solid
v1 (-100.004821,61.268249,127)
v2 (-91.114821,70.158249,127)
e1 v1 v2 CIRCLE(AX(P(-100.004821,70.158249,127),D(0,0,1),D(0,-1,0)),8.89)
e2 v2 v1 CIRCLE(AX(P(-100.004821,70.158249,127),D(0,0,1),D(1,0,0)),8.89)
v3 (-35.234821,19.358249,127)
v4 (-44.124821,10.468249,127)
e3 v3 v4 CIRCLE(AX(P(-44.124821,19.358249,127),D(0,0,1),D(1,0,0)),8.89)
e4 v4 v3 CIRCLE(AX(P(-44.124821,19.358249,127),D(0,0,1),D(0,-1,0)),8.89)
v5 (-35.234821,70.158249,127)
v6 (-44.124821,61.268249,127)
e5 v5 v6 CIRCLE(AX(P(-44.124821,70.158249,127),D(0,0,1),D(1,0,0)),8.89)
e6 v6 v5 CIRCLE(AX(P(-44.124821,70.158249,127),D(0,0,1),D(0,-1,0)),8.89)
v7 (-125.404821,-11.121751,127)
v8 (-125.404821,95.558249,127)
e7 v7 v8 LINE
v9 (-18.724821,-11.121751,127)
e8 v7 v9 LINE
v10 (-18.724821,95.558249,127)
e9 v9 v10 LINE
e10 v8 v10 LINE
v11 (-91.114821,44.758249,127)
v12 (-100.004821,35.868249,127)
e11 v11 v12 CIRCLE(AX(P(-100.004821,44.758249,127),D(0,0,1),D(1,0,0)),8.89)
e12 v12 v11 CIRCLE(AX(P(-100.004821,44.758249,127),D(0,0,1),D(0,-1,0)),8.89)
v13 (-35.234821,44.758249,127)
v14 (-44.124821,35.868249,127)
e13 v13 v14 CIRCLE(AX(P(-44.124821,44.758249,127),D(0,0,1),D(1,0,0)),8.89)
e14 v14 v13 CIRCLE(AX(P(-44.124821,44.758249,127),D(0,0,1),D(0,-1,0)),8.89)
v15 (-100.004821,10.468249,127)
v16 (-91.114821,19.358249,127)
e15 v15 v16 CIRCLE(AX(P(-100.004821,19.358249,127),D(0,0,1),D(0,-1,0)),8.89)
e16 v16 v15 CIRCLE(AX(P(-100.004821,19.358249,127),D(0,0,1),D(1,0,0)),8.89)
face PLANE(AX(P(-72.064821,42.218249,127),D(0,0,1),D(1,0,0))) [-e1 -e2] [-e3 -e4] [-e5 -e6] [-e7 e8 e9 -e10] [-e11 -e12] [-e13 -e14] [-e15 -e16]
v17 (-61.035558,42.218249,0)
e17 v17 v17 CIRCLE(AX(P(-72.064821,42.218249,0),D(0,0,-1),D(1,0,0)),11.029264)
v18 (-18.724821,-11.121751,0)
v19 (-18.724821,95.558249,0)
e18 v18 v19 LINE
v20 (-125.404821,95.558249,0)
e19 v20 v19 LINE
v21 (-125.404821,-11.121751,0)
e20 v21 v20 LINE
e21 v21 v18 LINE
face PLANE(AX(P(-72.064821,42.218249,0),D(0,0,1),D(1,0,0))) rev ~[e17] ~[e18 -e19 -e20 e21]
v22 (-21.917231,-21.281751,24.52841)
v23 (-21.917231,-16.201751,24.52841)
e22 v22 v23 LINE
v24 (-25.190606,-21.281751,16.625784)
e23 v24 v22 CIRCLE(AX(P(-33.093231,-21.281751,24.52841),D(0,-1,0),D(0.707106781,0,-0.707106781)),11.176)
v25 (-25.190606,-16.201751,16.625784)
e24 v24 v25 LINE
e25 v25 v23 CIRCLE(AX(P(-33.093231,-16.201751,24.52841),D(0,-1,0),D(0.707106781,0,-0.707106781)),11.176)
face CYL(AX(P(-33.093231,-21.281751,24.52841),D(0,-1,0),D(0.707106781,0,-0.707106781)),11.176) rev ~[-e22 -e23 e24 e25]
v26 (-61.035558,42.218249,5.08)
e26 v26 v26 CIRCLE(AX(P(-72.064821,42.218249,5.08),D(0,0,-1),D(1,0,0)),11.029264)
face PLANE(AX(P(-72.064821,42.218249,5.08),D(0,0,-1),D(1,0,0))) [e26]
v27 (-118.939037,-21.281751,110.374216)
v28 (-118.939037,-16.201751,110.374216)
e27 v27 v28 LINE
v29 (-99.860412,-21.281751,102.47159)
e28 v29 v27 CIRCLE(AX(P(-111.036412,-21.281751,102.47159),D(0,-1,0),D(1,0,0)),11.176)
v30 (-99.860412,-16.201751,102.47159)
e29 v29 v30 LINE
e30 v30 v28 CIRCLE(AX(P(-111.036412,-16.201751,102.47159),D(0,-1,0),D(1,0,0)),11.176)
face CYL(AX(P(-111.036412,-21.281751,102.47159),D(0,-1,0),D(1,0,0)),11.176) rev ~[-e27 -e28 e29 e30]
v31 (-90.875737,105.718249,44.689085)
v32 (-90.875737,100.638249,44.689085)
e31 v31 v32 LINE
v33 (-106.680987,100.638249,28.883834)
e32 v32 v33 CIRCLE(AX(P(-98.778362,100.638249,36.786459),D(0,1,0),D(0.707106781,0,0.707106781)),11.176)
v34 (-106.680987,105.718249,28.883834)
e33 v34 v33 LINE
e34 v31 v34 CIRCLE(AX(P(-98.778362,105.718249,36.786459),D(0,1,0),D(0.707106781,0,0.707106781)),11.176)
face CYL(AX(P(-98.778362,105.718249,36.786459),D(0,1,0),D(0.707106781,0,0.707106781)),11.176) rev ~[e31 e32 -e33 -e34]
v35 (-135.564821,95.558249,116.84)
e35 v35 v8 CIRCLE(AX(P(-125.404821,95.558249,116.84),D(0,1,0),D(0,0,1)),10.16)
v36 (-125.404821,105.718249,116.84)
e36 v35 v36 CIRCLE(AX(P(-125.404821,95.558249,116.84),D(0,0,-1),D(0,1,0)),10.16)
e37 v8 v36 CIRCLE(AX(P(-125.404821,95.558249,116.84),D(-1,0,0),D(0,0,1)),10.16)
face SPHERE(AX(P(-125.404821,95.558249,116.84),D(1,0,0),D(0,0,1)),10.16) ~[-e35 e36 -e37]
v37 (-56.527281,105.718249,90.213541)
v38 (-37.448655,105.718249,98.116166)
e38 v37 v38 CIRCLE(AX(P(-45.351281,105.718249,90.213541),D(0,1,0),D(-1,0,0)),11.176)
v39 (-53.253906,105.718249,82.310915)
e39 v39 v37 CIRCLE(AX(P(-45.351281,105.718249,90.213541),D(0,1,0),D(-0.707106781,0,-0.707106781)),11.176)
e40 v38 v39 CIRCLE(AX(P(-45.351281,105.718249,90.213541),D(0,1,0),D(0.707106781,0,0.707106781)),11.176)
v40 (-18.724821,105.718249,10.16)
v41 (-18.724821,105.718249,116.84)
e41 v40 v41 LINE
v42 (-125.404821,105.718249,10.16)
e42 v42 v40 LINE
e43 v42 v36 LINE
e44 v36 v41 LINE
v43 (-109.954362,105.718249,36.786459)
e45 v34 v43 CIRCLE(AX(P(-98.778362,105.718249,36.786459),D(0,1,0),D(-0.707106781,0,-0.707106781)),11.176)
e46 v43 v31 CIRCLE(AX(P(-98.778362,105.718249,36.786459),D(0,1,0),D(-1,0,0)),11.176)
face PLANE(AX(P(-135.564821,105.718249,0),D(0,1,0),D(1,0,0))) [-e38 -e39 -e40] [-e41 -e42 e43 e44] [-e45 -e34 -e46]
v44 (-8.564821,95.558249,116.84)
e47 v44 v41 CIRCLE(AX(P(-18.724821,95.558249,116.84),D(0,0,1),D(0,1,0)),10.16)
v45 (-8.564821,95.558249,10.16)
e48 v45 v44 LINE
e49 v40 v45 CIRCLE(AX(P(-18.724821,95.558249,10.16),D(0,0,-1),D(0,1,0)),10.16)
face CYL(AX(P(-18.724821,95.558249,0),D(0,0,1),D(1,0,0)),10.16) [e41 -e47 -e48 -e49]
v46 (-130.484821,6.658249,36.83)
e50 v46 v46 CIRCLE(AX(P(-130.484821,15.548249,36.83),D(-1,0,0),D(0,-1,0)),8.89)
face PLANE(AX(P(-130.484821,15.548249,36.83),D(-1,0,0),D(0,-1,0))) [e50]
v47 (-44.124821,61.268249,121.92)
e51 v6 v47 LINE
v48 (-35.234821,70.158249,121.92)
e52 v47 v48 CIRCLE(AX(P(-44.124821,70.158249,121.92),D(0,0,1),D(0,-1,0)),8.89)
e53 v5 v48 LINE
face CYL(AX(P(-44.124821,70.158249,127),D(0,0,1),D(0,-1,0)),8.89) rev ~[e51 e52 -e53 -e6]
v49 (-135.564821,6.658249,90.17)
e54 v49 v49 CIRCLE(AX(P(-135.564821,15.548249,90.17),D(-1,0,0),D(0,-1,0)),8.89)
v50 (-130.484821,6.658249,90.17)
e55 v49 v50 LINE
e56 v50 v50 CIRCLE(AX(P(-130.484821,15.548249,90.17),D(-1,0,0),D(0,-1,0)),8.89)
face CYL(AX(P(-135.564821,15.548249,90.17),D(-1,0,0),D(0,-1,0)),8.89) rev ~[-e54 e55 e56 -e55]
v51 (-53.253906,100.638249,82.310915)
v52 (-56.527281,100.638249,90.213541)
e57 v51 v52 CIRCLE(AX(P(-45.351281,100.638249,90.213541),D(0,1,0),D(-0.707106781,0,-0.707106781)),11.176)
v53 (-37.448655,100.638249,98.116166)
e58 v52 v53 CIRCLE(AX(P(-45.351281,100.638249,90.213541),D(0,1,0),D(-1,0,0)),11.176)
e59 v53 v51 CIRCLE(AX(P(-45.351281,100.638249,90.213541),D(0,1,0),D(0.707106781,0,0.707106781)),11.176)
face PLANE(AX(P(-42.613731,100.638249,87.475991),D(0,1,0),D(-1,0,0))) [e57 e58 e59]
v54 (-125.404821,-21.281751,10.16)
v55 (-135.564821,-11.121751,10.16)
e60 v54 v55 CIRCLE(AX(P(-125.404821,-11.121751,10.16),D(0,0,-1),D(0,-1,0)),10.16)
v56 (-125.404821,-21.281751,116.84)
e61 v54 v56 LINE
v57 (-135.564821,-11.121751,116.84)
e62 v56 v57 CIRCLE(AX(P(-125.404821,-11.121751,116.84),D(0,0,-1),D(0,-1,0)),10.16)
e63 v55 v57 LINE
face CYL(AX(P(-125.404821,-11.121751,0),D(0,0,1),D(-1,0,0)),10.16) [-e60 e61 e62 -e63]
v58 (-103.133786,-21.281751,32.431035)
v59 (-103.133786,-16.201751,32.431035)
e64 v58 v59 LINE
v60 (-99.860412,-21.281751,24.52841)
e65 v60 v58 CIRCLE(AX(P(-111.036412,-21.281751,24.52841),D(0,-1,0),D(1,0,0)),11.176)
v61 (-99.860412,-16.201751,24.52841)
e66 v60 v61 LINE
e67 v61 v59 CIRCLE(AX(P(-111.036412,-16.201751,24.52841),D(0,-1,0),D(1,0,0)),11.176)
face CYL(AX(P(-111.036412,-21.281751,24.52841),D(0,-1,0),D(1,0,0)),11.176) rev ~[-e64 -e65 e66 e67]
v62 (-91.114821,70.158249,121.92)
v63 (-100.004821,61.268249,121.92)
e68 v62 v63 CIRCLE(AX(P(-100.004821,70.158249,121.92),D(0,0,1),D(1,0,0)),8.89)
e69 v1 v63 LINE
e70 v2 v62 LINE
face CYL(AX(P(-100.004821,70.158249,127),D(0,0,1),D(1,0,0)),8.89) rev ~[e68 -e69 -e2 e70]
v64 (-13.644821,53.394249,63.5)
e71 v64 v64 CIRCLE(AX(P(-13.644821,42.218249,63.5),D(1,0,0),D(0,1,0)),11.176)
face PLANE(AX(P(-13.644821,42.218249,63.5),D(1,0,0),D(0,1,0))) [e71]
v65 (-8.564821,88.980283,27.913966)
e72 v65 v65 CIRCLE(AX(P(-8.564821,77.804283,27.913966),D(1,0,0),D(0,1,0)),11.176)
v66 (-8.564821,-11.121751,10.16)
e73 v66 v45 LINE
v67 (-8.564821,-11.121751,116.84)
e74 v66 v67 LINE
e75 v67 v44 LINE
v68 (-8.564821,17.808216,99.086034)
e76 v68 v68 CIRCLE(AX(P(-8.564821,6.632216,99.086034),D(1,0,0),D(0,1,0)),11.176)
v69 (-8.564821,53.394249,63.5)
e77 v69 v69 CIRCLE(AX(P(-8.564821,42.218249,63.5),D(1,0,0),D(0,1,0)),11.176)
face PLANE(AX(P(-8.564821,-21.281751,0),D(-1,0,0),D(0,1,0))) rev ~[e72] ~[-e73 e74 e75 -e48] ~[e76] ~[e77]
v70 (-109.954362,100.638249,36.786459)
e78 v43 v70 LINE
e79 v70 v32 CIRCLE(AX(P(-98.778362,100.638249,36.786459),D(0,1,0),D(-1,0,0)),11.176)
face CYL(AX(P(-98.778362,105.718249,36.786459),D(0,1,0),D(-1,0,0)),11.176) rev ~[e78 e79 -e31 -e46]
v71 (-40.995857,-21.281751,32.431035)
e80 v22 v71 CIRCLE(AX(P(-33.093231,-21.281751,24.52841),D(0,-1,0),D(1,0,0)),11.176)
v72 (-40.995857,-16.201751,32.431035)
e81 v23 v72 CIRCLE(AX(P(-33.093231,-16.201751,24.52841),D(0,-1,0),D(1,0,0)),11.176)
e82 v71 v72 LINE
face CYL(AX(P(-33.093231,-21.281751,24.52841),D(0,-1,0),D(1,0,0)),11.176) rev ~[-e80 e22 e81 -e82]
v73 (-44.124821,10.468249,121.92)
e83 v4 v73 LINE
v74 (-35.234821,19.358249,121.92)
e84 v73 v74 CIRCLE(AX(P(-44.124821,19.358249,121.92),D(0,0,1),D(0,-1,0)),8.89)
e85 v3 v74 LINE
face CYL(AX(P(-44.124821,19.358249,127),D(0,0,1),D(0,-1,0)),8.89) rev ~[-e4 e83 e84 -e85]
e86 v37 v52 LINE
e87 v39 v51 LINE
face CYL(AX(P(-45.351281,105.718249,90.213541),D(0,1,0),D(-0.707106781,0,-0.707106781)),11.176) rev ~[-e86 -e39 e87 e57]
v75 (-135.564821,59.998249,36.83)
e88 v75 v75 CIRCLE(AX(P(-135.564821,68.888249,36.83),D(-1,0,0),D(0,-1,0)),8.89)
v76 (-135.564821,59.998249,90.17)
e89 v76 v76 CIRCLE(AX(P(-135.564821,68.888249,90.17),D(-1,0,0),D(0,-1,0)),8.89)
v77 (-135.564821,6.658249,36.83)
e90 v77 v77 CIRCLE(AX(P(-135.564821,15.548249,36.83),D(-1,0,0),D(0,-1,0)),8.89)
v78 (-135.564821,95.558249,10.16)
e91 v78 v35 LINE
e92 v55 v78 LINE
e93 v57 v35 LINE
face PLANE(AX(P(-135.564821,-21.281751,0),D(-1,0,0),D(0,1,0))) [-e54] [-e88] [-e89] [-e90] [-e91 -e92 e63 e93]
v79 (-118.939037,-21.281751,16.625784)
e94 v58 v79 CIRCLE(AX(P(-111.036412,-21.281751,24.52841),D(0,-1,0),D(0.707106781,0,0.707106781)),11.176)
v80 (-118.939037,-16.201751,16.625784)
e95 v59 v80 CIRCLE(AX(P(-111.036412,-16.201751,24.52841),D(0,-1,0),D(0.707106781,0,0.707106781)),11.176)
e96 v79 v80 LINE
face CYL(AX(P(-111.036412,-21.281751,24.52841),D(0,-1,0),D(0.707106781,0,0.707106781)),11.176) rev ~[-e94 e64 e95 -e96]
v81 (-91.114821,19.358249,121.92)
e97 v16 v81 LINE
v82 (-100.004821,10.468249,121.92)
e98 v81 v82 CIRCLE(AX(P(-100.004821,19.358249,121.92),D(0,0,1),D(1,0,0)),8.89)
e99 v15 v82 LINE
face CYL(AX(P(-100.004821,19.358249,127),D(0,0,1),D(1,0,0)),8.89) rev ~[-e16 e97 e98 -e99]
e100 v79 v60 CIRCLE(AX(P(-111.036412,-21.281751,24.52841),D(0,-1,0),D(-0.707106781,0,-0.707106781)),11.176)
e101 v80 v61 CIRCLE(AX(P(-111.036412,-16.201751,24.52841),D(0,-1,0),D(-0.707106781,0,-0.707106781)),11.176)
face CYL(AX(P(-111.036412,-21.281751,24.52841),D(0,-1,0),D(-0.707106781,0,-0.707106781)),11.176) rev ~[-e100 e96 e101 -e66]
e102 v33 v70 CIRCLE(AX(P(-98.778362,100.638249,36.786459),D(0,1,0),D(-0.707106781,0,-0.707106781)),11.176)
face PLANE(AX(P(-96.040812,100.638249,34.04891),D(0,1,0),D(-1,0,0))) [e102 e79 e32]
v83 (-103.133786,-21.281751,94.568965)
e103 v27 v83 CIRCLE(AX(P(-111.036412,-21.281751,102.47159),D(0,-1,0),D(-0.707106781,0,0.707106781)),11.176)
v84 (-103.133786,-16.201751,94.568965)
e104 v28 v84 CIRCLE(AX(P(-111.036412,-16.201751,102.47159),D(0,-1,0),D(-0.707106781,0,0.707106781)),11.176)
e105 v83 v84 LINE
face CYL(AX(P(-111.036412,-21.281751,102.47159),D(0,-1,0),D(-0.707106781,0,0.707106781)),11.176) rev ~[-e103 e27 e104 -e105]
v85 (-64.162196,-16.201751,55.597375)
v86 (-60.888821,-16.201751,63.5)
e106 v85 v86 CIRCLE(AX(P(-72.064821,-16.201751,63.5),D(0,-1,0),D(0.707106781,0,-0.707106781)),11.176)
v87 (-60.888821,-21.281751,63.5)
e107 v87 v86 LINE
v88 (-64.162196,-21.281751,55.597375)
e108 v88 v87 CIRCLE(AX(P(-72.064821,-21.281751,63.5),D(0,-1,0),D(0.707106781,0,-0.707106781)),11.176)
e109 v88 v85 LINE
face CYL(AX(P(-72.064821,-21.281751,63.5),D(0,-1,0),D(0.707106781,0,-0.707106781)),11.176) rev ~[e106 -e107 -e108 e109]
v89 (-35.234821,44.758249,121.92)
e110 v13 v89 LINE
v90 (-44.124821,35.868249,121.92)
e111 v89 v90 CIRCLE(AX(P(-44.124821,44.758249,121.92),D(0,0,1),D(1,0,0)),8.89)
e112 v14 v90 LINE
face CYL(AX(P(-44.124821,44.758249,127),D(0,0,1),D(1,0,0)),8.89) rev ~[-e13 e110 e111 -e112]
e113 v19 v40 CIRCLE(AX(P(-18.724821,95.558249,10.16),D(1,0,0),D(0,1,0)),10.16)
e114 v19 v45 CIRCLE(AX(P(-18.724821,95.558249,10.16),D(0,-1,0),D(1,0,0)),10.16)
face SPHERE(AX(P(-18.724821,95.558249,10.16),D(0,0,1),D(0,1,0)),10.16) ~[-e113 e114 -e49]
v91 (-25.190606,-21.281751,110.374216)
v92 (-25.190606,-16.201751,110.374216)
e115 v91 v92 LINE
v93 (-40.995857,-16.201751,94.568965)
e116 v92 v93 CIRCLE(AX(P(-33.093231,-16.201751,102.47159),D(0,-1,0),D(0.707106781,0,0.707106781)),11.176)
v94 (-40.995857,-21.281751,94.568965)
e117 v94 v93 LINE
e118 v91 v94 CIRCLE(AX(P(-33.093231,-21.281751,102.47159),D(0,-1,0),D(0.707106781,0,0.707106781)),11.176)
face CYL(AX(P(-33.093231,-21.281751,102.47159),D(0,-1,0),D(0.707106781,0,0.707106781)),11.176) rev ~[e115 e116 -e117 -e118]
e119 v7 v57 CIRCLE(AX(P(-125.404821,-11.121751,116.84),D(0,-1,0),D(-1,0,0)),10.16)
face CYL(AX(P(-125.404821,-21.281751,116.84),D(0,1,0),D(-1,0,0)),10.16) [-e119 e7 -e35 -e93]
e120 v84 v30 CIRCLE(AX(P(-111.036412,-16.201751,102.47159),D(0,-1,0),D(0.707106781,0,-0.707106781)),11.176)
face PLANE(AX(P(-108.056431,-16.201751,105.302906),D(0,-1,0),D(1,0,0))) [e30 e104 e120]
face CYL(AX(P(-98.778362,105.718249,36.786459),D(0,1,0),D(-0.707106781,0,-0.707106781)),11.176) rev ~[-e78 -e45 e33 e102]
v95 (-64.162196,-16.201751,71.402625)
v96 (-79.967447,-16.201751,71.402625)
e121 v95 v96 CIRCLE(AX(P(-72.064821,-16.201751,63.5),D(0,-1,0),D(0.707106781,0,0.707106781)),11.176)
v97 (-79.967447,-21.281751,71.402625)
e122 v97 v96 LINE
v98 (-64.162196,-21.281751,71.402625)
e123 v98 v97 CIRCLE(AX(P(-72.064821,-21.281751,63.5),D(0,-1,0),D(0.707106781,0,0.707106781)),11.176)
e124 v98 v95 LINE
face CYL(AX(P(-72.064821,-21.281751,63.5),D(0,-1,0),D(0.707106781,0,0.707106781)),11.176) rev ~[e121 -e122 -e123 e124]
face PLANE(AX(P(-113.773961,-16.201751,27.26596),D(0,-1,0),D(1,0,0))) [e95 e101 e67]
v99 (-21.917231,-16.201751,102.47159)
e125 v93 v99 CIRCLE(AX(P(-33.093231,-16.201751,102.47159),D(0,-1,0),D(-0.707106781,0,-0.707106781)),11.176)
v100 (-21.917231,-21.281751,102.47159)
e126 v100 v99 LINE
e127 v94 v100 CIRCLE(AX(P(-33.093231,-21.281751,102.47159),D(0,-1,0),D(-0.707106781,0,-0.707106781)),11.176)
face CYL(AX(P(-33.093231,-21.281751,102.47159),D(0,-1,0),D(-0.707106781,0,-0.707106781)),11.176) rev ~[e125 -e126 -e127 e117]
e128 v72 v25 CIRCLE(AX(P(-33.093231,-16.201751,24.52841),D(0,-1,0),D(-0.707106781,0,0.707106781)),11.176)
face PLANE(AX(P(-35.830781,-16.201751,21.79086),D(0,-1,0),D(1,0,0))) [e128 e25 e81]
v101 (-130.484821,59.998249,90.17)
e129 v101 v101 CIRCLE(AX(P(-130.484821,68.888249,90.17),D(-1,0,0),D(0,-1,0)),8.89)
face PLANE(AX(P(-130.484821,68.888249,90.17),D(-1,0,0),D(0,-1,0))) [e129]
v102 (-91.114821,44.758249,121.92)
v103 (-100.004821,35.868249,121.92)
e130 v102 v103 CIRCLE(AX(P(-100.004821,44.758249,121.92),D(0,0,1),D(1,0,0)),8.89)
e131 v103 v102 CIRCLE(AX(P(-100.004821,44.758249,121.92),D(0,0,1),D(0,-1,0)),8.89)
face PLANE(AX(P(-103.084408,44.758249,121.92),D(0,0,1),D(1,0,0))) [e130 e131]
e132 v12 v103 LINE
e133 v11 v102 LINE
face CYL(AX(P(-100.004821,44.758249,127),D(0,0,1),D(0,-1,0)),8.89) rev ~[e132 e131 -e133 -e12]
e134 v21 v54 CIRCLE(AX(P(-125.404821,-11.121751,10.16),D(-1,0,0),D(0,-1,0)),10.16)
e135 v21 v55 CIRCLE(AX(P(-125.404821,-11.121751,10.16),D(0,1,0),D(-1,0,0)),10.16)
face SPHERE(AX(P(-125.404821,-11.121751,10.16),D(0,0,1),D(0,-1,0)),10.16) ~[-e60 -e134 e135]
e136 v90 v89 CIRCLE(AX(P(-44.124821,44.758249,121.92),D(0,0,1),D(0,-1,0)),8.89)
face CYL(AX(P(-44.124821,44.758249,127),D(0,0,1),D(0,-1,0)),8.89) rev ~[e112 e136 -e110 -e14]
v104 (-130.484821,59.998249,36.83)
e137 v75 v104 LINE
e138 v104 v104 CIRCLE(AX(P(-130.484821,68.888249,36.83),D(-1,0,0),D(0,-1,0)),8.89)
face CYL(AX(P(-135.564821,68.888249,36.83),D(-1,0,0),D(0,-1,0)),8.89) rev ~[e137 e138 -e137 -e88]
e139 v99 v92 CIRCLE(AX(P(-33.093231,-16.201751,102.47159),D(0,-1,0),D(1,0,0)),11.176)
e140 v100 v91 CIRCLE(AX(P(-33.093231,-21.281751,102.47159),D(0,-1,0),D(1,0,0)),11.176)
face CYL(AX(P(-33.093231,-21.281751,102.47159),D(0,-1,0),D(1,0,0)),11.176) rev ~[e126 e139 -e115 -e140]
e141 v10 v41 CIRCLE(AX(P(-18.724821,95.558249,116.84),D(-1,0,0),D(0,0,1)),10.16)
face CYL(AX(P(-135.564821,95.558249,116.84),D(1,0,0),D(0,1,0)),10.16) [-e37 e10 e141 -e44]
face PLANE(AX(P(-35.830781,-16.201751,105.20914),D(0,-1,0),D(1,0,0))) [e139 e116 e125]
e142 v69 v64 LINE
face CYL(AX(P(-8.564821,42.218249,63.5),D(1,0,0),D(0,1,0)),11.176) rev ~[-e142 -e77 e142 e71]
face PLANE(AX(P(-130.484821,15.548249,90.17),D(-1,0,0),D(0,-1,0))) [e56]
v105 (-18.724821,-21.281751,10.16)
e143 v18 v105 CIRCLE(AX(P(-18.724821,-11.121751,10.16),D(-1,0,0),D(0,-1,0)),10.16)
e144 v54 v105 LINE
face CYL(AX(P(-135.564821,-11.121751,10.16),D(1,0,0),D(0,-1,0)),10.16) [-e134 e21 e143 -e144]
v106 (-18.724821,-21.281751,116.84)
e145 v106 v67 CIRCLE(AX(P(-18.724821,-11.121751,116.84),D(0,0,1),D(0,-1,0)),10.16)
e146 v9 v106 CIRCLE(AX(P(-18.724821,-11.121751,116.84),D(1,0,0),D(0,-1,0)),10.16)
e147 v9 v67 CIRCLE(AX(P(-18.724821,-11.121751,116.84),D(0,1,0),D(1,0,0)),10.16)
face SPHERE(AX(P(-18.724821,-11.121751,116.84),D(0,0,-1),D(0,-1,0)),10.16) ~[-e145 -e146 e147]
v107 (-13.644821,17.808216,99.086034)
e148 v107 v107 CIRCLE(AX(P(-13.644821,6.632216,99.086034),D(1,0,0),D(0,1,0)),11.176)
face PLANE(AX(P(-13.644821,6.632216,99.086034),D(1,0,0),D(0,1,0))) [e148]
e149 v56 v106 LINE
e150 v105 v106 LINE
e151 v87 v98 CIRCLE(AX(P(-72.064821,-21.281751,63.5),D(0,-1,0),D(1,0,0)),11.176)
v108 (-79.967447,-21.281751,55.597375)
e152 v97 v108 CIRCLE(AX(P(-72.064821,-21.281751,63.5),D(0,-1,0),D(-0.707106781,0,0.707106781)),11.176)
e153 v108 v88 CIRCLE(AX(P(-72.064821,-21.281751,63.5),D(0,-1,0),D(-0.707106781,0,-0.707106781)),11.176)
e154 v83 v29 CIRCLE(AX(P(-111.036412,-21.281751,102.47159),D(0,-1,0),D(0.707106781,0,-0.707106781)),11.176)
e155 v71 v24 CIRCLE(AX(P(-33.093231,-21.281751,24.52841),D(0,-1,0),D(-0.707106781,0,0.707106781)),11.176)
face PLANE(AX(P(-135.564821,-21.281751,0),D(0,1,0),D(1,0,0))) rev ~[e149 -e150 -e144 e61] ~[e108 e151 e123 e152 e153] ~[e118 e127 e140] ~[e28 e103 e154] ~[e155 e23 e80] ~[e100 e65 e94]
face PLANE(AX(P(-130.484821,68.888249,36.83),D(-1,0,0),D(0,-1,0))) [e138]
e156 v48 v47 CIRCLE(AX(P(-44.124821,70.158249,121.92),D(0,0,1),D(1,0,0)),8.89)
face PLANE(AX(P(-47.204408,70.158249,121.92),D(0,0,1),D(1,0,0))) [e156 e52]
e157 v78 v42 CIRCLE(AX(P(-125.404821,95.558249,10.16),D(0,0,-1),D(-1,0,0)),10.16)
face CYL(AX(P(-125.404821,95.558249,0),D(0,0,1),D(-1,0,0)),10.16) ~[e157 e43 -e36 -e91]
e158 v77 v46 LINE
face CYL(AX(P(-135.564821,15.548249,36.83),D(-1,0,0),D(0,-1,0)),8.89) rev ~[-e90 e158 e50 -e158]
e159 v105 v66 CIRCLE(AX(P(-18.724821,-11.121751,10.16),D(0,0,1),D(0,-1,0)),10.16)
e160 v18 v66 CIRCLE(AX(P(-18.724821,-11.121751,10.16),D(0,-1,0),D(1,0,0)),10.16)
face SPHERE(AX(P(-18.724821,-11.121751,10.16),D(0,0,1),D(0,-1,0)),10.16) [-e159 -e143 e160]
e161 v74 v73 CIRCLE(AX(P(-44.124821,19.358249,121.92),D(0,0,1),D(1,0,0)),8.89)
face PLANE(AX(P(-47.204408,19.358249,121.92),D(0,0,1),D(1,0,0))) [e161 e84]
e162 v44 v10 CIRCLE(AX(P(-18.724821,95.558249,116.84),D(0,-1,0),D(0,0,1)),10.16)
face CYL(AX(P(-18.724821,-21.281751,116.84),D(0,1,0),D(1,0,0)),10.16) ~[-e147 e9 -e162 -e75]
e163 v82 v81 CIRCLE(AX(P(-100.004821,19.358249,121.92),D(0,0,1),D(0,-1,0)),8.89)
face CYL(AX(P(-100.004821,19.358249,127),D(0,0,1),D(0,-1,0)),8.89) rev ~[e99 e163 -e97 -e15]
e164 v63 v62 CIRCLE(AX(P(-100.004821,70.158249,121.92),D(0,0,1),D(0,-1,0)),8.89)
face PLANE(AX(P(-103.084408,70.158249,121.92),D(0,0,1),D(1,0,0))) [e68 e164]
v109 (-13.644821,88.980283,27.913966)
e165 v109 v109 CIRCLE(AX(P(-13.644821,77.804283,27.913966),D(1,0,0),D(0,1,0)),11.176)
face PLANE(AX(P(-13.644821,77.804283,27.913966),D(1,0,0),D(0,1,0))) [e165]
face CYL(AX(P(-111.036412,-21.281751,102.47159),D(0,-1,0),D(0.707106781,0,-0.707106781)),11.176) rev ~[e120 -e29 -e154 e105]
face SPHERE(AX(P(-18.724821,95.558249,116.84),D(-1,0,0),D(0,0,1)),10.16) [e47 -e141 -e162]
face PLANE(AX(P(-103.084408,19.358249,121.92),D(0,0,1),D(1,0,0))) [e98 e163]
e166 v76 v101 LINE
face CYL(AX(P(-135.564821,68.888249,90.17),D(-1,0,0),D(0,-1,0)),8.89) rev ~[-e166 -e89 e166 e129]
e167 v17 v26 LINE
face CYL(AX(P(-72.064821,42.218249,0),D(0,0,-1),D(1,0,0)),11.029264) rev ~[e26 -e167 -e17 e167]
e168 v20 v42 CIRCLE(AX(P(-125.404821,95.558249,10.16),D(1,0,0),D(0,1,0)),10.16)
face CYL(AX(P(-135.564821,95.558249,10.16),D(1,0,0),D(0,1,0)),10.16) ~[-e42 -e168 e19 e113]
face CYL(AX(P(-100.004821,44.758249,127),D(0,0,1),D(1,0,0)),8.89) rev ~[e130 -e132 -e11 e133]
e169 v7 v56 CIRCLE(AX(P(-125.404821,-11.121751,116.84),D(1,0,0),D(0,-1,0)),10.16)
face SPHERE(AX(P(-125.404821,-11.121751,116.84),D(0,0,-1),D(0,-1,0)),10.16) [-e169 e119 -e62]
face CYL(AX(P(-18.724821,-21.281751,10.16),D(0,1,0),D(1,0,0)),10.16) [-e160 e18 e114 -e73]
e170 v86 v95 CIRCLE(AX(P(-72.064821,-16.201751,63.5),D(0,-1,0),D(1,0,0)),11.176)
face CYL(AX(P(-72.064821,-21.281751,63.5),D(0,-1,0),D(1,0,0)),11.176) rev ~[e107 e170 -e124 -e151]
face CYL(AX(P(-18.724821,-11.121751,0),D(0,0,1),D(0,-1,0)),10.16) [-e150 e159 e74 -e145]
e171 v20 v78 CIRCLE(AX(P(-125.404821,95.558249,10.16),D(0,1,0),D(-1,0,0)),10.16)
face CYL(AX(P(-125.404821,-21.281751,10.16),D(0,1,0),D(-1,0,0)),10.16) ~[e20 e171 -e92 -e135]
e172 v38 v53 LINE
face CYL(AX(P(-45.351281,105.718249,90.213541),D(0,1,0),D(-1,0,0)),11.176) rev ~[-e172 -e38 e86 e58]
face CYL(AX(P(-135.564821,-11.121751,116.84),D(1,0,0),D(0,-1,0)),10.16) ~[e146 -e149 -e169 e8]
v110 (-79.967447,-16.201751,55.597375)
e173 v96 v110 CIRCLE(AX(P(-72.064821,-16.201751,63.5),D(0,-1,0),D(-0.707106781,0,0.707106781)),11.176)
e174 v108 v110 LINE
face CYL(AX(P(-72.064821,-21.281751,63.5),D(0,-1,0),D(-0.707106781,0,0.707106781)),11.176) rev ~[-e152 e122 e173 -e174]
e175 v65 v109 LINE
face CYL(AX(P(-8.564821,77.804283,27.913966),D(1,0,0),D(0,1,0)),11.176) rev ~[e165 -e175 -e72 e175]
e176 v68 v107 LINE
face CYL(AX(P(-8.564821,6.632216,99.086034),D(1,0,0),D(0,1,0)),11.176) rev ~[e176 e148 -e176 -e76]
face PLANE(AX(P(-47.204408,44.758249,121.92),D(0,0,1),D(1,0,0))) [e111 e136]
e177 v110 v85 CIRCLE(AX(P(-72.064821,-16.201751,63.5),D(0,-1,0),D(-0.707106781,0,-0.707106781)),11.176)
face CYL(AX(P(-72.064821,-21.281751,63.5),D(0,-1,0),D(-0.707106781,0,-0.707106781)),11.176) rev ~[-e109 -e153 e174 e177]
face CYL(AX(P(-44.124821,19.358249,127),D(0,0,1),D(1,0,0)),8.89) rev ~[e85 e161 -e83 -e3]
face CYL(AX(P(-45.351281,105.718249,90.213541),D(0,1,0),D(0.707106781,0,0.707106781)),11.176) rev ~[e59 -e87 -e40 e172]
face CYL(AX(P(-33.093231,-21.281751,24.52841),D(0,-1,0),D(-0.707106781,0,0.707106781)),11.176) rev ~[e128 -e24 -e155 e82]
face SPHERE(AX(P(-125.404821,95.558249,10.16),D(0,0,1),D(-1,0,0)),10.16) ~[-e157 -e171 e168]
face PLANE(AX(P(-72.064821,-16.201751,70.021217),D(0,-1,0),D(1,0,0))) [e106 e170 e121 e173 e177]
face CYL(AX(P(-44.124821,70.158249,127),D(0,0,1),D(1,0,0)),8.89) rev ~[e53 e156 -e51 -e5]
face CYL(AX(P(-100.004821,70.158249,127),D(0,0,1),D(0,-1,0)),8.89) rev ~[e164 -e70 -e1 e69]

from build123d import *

# Parameters (mm, degrees)
F0_W      = 127
F0_H      = 127
F1_DEPTH  = 127
F2_R      = 10.16
F3_R      = 11.0292636168
F4_DEPTH  = 5.08
F6_DEPTH  = 5.08
F7_R      = 8.89
F8_DEPTH  = 5.08
F9_R      = 11.176
F10_DEPTH = 5.08
F12_DEPTH = 5.08
F14_DEPTH = 5.08


with BuildPart() as f1:
    # F0 (on Top) → F1 (new body)
    with BuildSketch(Plane.XY):
        with Locations((-72.0648214515, 42.2182492242)):
            Rectangle(F0_W, F0_H)
    extrude(amount=F1_DEPTH)

    # F2
    f2_edges = [f1.edges().sort_by_distance(p)[0] for p in [
        (-135.564821, -21.281751, 63.5),
        (-8.564821, -21.281751, 63.5),
        (-72.064821, -21.281751, 0),
        (-72.064821, -21.281751, 127),
        (-72.064821, 105.718249, 127),
        (-135.564821, 42.218249, 127),
        (-8.564821, 42.218249, 127),
        (-135.564821, 105.718249, 63.5),
        (-135.564821, 42.218249, 0),
        (-8.564821, 105.718249, 63.5),
        (-72.064821, 105.718249, 0),
        (-8.564821, 42.218249, 0),
    ]]
    fillet(f2_edges, radius=F2_R)

    # F3 (on face) → F4 (cut)
    with BuildSketch(Plane(origin=(0, 0, 0), x_dir=(1, 0, 0), z_dir=(0, 0, -1))):
        with Locations((-72.0648214515, -42.2182492242)):
            Circle(F3_R)
    extrude(amount=-F4_DEPTH, mode=Mode.SUBTRACT)

    # F5 (on face) → F6 (cut)
    with BuildSketch(Plane.XY.offset(127)):
        with BuildLine():
            Line((-100.0048214515, 61.2682492242), (-100.0048214515, 79.0482492242))
            ThreePointArc((-100.0048214515, 79.0482492242), (-108.8948214515, 70.1582492242), (-100.0048214515, 61.2682492242))
        make_face()
        with BuildLine():
            ThreePointArc((-91.1148214515, 70.1582492242), (-93.7186421668, 76.444428509), (-100.0048214515, 79.0482492242))
            Line((-100.0048214515, 79.0482492242), (-100.0048214515, 61.2682492242))
            ThreePointArc((-100.0048214515, 61.2682492242), (-93.7186421668, 63.8720699395), (-91.1148214515, 70.1582492242))
        make_face()
        with BuildLine():
            ThreePointArc((-100.0048214515, 53.6482492242), (-108.8948214515, 44.7582492242), (-100.0048214515, 35.8682492242))
            Line((-100.0048214515, 35.8682492242), (-100.0048214515, 53.6482492242))
        make_face()
        with BuildLine():
            Line((-100.0048214515, 53.6482492242), (-100.0048214515, 35.8682492242))
            ThreePointArc((-100.0048214515, 35.8682492242), (-93.7186421668, 38.4720699395), (-91.1148214515, 44.7582492242))
            ThreePointArc((-91.1148214515, 44.7582492242), (-93.7186421668, 51.044428509), (-100.0048214515, 53.6482492242))
        make_face()
        with BuildLine():
            Line((-44.1248214515, 61.2682492242), (-44.1248214515, 79.0482492242))
            ThreePointArc((-44.1248214515, 79.0482492242), (-53.0148214515, 70.1582492242), (-44.1248214515, 61.2682492242))
        make_face()
        with BuildLine():
            ThreePointArc((-35.2348214515, 70.1582492242), (-37.8386421668, 76.444428509), (-44.1248214515, 79.0482492242))
            Line((-44.1248214515, 79.0482492242), (-44.1248214515, 61.2682492242))
            ThreePointArc((-44.1248214515, 61.2682492242), (-37.8386421668, 63.8720699395), (-35.2348214515, 70.1582492242))
        make_face()
        with BuildLine():
            ThreePointArc((-44.1248214515, 53.6482492242), (-53.0148214515, 44.7582492242), (-44.1248214515, 35.8682492242))
            Line((-44.1248214515, 35.8682492242), (-44.1248214515, 53.6482492242))
        make_face()
        with BuildLine():
            Line((-44.1248214515, 53.6482492242), (-44.1248214515, 35.8682492242))
            ThreePointArc((-44.1248214515, 35.8682492242), (-37.8386421668, 38.4720699395), (-35.2348214515, 44.7582492242))
            ThreePointArc((-35.2348214515, 44.7582492242), (-37.8386421668, 51.044428509), (-44.1248214515, 53.6482492242))
        make_face()
        with BuildLine():
            ThreePointArc((-100.0048214515, 28.2482492242), (-108.8948214515, 19.3582492242), (-100.0048214515, 10.4682492242))
            Line((-100.0048214515, 10.4682492242), (-100.0048214515, 28.2482492242))
        make_face()
        with BuildLine():
            Line((-100.0048214515, 28.2482492242), (-100.0048214515, 10.4682492242))
            ThreePointArc((-100.0048214515, 10.4682492242), (-93.7186421668, 13.0720699395), (-91.1148214515, 19.3582492242))
            ThreePointArc((-91.1148214515, 19.3582492242), (-93.7186421668, 25.644428509), (-100.0048214515, 28.2482492242))
        make_face()
        with BuildLine():
            ThreePointArc((-44.1248214515, 28.2482492242), (-53.0148214515, 19.3582492242), (-44.1248214515, 10.4682492242))
            Line((-44.1248214515, 10.4682492242), (-44.1248214515, 28.2482492242))
        make_face()
        with BuildLine():
            Line((-44.1248214515, 28.2482492242), (-44.1248214515, 10.4682492242))
            ThreePointArc((-44.1248214515, 10.4682492242), (-37.8386421668, 13.0720699395), (-35.2348214515, 19.3582492242))
            ThreePointArc((-35.2348214515, 19.3582492242), (-37.8386421668, 25.644428509), (-44.1248214515, 28.2482492242))
        make_face()
    extrude(amount=-F6_DEPTH, mode=Mode.SUBTRACT)

    # F7 (on face) → F8 (cut)
    with BuildSketch(Plane(origin=(-135.5648214515, 0, 0), x_dir=(0, -1, 0), z_dir=(-1, 0, 0))):
        with Locations((-68.8882492242, 90.17)):
            Circle(F7_R)
        with Locations((-68.8882492242, 36.83)):
            Circle(F7_R)
        with Locations((-15.5482492242, 36.83)):
            Circle(F7_R)
        with Locations((-15.5482492242, 90.17)):
            Circle(F7_R)
    extrude(amount=-F8_DEPTH, mode=Mode.SUBTRACT)

    # F9 (on face) → F10 (cut)
    with BuildSketch(Plane.YZ.offset(-8.5648214515)):
        with Locations((6.6322155756, 99.0860336486)):
            Circle(F9_R)
        with Locations((77.8042828729, 27.9139663514)):
            Circle(F9_R)
        with Locations((42.2182492242, 63.5)):
            Circle(F9_R)
    extrude(amount=-F10_DEPTH, mode=Mode.SUBTRACT)

    # F11 (on face) → F12 (cut)
    with BuildSketch(Plane.XZ.offset(21.2817507758)):
        with BuildLine():
            ThreePointArc((-99.8604116578, 102.4715902063), (-106.7595416177, 112.7968678616), (-118.9390370444, 110.3742155928))
            Line((-118.9390370444, 110.3742155928), (-103.1337862713, 94.5689648197))
            ThreePointArc((-103.1337862713, 94.5689648197), (-100.7111340025, 98.1947201662), (-99.8604116578, 102.4715902063))
        make_face()
        with BuildLine():
            ThreePointArc((-40.9958566318, 32.4310351803), (-40.9958566318, 16.6257844072), (-25.1906058587, 16.6257844072))
            Line((-25.1906058587, 16.6257844072), (-40.9958566318, 32.4310351803))
        make_face()
        with BuildLine():
            Line((-40.9958566318, 32.4310351803), (-25.1906058587, 16.6257844072))
            ThreePointArc((-25.1906058587, 16.6257844072), (-22.7679535899, 20.2515397536), (-21.9172312452, 24.5284097937))
            ThreePointArc((-21.9172312452, 24.5284097937), (-28.8163612051, 34.8536874491), (-40.9958566318, 32.4310351803))
        make_face()
        with BuildLine():
            ThreePointArc((-103.1337862713, 32.4310351803), (-118.9390370444, 32.4310351803), (-118.9390370444, 16.6257844072))
            Line((-118.9390370444, 16.6257844072), (-103.1337862713, 32.4310351803))
        make_face()
        with BuildLine():
            Line((-103.1337862713, 32.4310351803), (-118.9390370444, 16.6257844072))
            ThreePointArc((-118.9390370444, 16.6257844072), (-106.7595416177, 14.2031321384), (-99.8604116578, 24.5284097937))
            ThreePointArc((-99.8604116578, 24.5284097937), (-100.7111340025, 28.8052798338), (-103.1337862713, 32.4310351803))
        make_face()
        with BuildLine():
            ThreePointArc((-64.162196065, 71.4026253865), (-72.0648214515, 74.676), (-79.9674468381, 71.4026253865))
            Line((-79.9674468381, 71.4026253865), (-72.0648214515, 63.5))
            Line((-72.0648214515, 63.5), (-64.162196065, 71.4026253865))
        make_face()
        with BuildLine():
            Line((-72.0648214515, 63.5), (-79.9674468381, 71.4026253865))
            ThreePointArc((-79.9674468381, 71.4026253865), (-83.2408214515, 63.5), (-79.9674468381, 55.5973746135))
            Line((-79.9674468381, 55.5973746135), (-72.0648214515, 63.5))
        make_face()
        with BuildLine():
            Line((-64.162196065, 71.4026253865), (-72.0648214515, 63.5))
            Line((-72.0648214515, 63.5), (-64.162196065, 55.5973746135))
            ThreePointArc((-64.162196065, 55.5973746135), (-61.7395437962, 59.2231299599), (-60.8888214515, 63.5))
            ThreePointArc((-60.8888214515, 63.5), (-61.7395437962, 67.7768700401), (-64.162196065, 71.4026253865))
        make_face()
        with BuildLine():
            Line((-64.162196065, 55.5973746135), (-72.0648214515, 63.5))
            Line((-72.0648214515, 63.5), (-79.9674468381, 55.5973746135))
            ThreePointArc((-79.9674468381, 55.5973746135), (-72.0648214515, 52.324), (-64.162196065, 55.5973746135))
        make_face()
        with BuildLine():
            Line((-103.1337862713, 94.5689648197), (-118.9390370444, 110.3742155928))
            ThreePointArc((-118.9390370444, 110.3742155928), (-118.9390370444, 94.5689648197), (-103.1337862713, 94.5689648197))
        make_face()
        with BuildLine():
            Line((-40.9958566318, 94.5689648197), (-25.1906058587, 110.3742155928))
            ThreePointArc((-25.1906058587, 110.3742155928), (-40.9958566318, 110.3742155928), (-40.9958566318, 94.5689648197))
        make_face()
        with BuildLine():
            ThreePointArc((-21.9172312452, 102.4715902063), (-22.7679535899, 106.7484602464), (-25.1906058587, 110.3742155928))
            Line((-25.1906058587, 110.3742155928), (-40.9958566318, 94.5689648197))
            ThreePointArc((-40.9958566318, 94.5689648197), (-28.8163612051, 92.1463125509), (-21.9172312452, 102.4715902063))
        make_face()
    extrude(amount=-F12_DEPTH, mode=Mode.SUBTRACT)

    # F13 (on face) → F14 (cut)
    with BuildSketch(Plane(origin=(0, 105.7182492242, 0), x_dir=(-1, 0, 0), z_dir=(0, 1, 0))):
        with BuildLine():
            ThreePointArc((90.875736666, 44.6890847855), (90.875736666, 28.8838340124), (106.6809874391, 28.8838340124))
            Line((106.6809874391, 28.8838340124), (90.875736666, 44.6890847855))
        make_face()
        with BuildLine():
            ThreePointArc((37.448655464, 98.1161659876), (37.448655464, 82.3109152145), (53.253906237, 82.3109152145))
            Line((53.253906237, 82.3109152145), (37.448655464, 98.1161659876))
        make_face()
        with BuildLine():
            Line((37.448655464, 98.1161659876), (53.253906237, 82.3109152145))
            ThreePointArc((53.253906237, 82.3109152145), (55.6765585058, 85.9366705609), (56.5272808505, 90.213540601))
            ThreePointArc((56.5272808505, 90.213540601), (49.6281508906, 100.5388182564), (37.448655464, 98.1161659876))
        make_face()
        with BuildLine():
            Line((90.875736666, 44.6890847855), (106.6809874391, 28.8838340124))
            ThreePointArc((106.6809874391, 28.8838340124), (109.1036397079, 32.5095893589), (109.9543620526, 36.786459399))
            ThreePointArc((109.9543620526, 36.786459399), (103.0552320927, 47.1117370543), (90.875736666, 44.6890847855))
        make_face()
    extrude(amount=-F14_DEPTH, mode=Mode.SUBTRACT)


solid = f1.part
